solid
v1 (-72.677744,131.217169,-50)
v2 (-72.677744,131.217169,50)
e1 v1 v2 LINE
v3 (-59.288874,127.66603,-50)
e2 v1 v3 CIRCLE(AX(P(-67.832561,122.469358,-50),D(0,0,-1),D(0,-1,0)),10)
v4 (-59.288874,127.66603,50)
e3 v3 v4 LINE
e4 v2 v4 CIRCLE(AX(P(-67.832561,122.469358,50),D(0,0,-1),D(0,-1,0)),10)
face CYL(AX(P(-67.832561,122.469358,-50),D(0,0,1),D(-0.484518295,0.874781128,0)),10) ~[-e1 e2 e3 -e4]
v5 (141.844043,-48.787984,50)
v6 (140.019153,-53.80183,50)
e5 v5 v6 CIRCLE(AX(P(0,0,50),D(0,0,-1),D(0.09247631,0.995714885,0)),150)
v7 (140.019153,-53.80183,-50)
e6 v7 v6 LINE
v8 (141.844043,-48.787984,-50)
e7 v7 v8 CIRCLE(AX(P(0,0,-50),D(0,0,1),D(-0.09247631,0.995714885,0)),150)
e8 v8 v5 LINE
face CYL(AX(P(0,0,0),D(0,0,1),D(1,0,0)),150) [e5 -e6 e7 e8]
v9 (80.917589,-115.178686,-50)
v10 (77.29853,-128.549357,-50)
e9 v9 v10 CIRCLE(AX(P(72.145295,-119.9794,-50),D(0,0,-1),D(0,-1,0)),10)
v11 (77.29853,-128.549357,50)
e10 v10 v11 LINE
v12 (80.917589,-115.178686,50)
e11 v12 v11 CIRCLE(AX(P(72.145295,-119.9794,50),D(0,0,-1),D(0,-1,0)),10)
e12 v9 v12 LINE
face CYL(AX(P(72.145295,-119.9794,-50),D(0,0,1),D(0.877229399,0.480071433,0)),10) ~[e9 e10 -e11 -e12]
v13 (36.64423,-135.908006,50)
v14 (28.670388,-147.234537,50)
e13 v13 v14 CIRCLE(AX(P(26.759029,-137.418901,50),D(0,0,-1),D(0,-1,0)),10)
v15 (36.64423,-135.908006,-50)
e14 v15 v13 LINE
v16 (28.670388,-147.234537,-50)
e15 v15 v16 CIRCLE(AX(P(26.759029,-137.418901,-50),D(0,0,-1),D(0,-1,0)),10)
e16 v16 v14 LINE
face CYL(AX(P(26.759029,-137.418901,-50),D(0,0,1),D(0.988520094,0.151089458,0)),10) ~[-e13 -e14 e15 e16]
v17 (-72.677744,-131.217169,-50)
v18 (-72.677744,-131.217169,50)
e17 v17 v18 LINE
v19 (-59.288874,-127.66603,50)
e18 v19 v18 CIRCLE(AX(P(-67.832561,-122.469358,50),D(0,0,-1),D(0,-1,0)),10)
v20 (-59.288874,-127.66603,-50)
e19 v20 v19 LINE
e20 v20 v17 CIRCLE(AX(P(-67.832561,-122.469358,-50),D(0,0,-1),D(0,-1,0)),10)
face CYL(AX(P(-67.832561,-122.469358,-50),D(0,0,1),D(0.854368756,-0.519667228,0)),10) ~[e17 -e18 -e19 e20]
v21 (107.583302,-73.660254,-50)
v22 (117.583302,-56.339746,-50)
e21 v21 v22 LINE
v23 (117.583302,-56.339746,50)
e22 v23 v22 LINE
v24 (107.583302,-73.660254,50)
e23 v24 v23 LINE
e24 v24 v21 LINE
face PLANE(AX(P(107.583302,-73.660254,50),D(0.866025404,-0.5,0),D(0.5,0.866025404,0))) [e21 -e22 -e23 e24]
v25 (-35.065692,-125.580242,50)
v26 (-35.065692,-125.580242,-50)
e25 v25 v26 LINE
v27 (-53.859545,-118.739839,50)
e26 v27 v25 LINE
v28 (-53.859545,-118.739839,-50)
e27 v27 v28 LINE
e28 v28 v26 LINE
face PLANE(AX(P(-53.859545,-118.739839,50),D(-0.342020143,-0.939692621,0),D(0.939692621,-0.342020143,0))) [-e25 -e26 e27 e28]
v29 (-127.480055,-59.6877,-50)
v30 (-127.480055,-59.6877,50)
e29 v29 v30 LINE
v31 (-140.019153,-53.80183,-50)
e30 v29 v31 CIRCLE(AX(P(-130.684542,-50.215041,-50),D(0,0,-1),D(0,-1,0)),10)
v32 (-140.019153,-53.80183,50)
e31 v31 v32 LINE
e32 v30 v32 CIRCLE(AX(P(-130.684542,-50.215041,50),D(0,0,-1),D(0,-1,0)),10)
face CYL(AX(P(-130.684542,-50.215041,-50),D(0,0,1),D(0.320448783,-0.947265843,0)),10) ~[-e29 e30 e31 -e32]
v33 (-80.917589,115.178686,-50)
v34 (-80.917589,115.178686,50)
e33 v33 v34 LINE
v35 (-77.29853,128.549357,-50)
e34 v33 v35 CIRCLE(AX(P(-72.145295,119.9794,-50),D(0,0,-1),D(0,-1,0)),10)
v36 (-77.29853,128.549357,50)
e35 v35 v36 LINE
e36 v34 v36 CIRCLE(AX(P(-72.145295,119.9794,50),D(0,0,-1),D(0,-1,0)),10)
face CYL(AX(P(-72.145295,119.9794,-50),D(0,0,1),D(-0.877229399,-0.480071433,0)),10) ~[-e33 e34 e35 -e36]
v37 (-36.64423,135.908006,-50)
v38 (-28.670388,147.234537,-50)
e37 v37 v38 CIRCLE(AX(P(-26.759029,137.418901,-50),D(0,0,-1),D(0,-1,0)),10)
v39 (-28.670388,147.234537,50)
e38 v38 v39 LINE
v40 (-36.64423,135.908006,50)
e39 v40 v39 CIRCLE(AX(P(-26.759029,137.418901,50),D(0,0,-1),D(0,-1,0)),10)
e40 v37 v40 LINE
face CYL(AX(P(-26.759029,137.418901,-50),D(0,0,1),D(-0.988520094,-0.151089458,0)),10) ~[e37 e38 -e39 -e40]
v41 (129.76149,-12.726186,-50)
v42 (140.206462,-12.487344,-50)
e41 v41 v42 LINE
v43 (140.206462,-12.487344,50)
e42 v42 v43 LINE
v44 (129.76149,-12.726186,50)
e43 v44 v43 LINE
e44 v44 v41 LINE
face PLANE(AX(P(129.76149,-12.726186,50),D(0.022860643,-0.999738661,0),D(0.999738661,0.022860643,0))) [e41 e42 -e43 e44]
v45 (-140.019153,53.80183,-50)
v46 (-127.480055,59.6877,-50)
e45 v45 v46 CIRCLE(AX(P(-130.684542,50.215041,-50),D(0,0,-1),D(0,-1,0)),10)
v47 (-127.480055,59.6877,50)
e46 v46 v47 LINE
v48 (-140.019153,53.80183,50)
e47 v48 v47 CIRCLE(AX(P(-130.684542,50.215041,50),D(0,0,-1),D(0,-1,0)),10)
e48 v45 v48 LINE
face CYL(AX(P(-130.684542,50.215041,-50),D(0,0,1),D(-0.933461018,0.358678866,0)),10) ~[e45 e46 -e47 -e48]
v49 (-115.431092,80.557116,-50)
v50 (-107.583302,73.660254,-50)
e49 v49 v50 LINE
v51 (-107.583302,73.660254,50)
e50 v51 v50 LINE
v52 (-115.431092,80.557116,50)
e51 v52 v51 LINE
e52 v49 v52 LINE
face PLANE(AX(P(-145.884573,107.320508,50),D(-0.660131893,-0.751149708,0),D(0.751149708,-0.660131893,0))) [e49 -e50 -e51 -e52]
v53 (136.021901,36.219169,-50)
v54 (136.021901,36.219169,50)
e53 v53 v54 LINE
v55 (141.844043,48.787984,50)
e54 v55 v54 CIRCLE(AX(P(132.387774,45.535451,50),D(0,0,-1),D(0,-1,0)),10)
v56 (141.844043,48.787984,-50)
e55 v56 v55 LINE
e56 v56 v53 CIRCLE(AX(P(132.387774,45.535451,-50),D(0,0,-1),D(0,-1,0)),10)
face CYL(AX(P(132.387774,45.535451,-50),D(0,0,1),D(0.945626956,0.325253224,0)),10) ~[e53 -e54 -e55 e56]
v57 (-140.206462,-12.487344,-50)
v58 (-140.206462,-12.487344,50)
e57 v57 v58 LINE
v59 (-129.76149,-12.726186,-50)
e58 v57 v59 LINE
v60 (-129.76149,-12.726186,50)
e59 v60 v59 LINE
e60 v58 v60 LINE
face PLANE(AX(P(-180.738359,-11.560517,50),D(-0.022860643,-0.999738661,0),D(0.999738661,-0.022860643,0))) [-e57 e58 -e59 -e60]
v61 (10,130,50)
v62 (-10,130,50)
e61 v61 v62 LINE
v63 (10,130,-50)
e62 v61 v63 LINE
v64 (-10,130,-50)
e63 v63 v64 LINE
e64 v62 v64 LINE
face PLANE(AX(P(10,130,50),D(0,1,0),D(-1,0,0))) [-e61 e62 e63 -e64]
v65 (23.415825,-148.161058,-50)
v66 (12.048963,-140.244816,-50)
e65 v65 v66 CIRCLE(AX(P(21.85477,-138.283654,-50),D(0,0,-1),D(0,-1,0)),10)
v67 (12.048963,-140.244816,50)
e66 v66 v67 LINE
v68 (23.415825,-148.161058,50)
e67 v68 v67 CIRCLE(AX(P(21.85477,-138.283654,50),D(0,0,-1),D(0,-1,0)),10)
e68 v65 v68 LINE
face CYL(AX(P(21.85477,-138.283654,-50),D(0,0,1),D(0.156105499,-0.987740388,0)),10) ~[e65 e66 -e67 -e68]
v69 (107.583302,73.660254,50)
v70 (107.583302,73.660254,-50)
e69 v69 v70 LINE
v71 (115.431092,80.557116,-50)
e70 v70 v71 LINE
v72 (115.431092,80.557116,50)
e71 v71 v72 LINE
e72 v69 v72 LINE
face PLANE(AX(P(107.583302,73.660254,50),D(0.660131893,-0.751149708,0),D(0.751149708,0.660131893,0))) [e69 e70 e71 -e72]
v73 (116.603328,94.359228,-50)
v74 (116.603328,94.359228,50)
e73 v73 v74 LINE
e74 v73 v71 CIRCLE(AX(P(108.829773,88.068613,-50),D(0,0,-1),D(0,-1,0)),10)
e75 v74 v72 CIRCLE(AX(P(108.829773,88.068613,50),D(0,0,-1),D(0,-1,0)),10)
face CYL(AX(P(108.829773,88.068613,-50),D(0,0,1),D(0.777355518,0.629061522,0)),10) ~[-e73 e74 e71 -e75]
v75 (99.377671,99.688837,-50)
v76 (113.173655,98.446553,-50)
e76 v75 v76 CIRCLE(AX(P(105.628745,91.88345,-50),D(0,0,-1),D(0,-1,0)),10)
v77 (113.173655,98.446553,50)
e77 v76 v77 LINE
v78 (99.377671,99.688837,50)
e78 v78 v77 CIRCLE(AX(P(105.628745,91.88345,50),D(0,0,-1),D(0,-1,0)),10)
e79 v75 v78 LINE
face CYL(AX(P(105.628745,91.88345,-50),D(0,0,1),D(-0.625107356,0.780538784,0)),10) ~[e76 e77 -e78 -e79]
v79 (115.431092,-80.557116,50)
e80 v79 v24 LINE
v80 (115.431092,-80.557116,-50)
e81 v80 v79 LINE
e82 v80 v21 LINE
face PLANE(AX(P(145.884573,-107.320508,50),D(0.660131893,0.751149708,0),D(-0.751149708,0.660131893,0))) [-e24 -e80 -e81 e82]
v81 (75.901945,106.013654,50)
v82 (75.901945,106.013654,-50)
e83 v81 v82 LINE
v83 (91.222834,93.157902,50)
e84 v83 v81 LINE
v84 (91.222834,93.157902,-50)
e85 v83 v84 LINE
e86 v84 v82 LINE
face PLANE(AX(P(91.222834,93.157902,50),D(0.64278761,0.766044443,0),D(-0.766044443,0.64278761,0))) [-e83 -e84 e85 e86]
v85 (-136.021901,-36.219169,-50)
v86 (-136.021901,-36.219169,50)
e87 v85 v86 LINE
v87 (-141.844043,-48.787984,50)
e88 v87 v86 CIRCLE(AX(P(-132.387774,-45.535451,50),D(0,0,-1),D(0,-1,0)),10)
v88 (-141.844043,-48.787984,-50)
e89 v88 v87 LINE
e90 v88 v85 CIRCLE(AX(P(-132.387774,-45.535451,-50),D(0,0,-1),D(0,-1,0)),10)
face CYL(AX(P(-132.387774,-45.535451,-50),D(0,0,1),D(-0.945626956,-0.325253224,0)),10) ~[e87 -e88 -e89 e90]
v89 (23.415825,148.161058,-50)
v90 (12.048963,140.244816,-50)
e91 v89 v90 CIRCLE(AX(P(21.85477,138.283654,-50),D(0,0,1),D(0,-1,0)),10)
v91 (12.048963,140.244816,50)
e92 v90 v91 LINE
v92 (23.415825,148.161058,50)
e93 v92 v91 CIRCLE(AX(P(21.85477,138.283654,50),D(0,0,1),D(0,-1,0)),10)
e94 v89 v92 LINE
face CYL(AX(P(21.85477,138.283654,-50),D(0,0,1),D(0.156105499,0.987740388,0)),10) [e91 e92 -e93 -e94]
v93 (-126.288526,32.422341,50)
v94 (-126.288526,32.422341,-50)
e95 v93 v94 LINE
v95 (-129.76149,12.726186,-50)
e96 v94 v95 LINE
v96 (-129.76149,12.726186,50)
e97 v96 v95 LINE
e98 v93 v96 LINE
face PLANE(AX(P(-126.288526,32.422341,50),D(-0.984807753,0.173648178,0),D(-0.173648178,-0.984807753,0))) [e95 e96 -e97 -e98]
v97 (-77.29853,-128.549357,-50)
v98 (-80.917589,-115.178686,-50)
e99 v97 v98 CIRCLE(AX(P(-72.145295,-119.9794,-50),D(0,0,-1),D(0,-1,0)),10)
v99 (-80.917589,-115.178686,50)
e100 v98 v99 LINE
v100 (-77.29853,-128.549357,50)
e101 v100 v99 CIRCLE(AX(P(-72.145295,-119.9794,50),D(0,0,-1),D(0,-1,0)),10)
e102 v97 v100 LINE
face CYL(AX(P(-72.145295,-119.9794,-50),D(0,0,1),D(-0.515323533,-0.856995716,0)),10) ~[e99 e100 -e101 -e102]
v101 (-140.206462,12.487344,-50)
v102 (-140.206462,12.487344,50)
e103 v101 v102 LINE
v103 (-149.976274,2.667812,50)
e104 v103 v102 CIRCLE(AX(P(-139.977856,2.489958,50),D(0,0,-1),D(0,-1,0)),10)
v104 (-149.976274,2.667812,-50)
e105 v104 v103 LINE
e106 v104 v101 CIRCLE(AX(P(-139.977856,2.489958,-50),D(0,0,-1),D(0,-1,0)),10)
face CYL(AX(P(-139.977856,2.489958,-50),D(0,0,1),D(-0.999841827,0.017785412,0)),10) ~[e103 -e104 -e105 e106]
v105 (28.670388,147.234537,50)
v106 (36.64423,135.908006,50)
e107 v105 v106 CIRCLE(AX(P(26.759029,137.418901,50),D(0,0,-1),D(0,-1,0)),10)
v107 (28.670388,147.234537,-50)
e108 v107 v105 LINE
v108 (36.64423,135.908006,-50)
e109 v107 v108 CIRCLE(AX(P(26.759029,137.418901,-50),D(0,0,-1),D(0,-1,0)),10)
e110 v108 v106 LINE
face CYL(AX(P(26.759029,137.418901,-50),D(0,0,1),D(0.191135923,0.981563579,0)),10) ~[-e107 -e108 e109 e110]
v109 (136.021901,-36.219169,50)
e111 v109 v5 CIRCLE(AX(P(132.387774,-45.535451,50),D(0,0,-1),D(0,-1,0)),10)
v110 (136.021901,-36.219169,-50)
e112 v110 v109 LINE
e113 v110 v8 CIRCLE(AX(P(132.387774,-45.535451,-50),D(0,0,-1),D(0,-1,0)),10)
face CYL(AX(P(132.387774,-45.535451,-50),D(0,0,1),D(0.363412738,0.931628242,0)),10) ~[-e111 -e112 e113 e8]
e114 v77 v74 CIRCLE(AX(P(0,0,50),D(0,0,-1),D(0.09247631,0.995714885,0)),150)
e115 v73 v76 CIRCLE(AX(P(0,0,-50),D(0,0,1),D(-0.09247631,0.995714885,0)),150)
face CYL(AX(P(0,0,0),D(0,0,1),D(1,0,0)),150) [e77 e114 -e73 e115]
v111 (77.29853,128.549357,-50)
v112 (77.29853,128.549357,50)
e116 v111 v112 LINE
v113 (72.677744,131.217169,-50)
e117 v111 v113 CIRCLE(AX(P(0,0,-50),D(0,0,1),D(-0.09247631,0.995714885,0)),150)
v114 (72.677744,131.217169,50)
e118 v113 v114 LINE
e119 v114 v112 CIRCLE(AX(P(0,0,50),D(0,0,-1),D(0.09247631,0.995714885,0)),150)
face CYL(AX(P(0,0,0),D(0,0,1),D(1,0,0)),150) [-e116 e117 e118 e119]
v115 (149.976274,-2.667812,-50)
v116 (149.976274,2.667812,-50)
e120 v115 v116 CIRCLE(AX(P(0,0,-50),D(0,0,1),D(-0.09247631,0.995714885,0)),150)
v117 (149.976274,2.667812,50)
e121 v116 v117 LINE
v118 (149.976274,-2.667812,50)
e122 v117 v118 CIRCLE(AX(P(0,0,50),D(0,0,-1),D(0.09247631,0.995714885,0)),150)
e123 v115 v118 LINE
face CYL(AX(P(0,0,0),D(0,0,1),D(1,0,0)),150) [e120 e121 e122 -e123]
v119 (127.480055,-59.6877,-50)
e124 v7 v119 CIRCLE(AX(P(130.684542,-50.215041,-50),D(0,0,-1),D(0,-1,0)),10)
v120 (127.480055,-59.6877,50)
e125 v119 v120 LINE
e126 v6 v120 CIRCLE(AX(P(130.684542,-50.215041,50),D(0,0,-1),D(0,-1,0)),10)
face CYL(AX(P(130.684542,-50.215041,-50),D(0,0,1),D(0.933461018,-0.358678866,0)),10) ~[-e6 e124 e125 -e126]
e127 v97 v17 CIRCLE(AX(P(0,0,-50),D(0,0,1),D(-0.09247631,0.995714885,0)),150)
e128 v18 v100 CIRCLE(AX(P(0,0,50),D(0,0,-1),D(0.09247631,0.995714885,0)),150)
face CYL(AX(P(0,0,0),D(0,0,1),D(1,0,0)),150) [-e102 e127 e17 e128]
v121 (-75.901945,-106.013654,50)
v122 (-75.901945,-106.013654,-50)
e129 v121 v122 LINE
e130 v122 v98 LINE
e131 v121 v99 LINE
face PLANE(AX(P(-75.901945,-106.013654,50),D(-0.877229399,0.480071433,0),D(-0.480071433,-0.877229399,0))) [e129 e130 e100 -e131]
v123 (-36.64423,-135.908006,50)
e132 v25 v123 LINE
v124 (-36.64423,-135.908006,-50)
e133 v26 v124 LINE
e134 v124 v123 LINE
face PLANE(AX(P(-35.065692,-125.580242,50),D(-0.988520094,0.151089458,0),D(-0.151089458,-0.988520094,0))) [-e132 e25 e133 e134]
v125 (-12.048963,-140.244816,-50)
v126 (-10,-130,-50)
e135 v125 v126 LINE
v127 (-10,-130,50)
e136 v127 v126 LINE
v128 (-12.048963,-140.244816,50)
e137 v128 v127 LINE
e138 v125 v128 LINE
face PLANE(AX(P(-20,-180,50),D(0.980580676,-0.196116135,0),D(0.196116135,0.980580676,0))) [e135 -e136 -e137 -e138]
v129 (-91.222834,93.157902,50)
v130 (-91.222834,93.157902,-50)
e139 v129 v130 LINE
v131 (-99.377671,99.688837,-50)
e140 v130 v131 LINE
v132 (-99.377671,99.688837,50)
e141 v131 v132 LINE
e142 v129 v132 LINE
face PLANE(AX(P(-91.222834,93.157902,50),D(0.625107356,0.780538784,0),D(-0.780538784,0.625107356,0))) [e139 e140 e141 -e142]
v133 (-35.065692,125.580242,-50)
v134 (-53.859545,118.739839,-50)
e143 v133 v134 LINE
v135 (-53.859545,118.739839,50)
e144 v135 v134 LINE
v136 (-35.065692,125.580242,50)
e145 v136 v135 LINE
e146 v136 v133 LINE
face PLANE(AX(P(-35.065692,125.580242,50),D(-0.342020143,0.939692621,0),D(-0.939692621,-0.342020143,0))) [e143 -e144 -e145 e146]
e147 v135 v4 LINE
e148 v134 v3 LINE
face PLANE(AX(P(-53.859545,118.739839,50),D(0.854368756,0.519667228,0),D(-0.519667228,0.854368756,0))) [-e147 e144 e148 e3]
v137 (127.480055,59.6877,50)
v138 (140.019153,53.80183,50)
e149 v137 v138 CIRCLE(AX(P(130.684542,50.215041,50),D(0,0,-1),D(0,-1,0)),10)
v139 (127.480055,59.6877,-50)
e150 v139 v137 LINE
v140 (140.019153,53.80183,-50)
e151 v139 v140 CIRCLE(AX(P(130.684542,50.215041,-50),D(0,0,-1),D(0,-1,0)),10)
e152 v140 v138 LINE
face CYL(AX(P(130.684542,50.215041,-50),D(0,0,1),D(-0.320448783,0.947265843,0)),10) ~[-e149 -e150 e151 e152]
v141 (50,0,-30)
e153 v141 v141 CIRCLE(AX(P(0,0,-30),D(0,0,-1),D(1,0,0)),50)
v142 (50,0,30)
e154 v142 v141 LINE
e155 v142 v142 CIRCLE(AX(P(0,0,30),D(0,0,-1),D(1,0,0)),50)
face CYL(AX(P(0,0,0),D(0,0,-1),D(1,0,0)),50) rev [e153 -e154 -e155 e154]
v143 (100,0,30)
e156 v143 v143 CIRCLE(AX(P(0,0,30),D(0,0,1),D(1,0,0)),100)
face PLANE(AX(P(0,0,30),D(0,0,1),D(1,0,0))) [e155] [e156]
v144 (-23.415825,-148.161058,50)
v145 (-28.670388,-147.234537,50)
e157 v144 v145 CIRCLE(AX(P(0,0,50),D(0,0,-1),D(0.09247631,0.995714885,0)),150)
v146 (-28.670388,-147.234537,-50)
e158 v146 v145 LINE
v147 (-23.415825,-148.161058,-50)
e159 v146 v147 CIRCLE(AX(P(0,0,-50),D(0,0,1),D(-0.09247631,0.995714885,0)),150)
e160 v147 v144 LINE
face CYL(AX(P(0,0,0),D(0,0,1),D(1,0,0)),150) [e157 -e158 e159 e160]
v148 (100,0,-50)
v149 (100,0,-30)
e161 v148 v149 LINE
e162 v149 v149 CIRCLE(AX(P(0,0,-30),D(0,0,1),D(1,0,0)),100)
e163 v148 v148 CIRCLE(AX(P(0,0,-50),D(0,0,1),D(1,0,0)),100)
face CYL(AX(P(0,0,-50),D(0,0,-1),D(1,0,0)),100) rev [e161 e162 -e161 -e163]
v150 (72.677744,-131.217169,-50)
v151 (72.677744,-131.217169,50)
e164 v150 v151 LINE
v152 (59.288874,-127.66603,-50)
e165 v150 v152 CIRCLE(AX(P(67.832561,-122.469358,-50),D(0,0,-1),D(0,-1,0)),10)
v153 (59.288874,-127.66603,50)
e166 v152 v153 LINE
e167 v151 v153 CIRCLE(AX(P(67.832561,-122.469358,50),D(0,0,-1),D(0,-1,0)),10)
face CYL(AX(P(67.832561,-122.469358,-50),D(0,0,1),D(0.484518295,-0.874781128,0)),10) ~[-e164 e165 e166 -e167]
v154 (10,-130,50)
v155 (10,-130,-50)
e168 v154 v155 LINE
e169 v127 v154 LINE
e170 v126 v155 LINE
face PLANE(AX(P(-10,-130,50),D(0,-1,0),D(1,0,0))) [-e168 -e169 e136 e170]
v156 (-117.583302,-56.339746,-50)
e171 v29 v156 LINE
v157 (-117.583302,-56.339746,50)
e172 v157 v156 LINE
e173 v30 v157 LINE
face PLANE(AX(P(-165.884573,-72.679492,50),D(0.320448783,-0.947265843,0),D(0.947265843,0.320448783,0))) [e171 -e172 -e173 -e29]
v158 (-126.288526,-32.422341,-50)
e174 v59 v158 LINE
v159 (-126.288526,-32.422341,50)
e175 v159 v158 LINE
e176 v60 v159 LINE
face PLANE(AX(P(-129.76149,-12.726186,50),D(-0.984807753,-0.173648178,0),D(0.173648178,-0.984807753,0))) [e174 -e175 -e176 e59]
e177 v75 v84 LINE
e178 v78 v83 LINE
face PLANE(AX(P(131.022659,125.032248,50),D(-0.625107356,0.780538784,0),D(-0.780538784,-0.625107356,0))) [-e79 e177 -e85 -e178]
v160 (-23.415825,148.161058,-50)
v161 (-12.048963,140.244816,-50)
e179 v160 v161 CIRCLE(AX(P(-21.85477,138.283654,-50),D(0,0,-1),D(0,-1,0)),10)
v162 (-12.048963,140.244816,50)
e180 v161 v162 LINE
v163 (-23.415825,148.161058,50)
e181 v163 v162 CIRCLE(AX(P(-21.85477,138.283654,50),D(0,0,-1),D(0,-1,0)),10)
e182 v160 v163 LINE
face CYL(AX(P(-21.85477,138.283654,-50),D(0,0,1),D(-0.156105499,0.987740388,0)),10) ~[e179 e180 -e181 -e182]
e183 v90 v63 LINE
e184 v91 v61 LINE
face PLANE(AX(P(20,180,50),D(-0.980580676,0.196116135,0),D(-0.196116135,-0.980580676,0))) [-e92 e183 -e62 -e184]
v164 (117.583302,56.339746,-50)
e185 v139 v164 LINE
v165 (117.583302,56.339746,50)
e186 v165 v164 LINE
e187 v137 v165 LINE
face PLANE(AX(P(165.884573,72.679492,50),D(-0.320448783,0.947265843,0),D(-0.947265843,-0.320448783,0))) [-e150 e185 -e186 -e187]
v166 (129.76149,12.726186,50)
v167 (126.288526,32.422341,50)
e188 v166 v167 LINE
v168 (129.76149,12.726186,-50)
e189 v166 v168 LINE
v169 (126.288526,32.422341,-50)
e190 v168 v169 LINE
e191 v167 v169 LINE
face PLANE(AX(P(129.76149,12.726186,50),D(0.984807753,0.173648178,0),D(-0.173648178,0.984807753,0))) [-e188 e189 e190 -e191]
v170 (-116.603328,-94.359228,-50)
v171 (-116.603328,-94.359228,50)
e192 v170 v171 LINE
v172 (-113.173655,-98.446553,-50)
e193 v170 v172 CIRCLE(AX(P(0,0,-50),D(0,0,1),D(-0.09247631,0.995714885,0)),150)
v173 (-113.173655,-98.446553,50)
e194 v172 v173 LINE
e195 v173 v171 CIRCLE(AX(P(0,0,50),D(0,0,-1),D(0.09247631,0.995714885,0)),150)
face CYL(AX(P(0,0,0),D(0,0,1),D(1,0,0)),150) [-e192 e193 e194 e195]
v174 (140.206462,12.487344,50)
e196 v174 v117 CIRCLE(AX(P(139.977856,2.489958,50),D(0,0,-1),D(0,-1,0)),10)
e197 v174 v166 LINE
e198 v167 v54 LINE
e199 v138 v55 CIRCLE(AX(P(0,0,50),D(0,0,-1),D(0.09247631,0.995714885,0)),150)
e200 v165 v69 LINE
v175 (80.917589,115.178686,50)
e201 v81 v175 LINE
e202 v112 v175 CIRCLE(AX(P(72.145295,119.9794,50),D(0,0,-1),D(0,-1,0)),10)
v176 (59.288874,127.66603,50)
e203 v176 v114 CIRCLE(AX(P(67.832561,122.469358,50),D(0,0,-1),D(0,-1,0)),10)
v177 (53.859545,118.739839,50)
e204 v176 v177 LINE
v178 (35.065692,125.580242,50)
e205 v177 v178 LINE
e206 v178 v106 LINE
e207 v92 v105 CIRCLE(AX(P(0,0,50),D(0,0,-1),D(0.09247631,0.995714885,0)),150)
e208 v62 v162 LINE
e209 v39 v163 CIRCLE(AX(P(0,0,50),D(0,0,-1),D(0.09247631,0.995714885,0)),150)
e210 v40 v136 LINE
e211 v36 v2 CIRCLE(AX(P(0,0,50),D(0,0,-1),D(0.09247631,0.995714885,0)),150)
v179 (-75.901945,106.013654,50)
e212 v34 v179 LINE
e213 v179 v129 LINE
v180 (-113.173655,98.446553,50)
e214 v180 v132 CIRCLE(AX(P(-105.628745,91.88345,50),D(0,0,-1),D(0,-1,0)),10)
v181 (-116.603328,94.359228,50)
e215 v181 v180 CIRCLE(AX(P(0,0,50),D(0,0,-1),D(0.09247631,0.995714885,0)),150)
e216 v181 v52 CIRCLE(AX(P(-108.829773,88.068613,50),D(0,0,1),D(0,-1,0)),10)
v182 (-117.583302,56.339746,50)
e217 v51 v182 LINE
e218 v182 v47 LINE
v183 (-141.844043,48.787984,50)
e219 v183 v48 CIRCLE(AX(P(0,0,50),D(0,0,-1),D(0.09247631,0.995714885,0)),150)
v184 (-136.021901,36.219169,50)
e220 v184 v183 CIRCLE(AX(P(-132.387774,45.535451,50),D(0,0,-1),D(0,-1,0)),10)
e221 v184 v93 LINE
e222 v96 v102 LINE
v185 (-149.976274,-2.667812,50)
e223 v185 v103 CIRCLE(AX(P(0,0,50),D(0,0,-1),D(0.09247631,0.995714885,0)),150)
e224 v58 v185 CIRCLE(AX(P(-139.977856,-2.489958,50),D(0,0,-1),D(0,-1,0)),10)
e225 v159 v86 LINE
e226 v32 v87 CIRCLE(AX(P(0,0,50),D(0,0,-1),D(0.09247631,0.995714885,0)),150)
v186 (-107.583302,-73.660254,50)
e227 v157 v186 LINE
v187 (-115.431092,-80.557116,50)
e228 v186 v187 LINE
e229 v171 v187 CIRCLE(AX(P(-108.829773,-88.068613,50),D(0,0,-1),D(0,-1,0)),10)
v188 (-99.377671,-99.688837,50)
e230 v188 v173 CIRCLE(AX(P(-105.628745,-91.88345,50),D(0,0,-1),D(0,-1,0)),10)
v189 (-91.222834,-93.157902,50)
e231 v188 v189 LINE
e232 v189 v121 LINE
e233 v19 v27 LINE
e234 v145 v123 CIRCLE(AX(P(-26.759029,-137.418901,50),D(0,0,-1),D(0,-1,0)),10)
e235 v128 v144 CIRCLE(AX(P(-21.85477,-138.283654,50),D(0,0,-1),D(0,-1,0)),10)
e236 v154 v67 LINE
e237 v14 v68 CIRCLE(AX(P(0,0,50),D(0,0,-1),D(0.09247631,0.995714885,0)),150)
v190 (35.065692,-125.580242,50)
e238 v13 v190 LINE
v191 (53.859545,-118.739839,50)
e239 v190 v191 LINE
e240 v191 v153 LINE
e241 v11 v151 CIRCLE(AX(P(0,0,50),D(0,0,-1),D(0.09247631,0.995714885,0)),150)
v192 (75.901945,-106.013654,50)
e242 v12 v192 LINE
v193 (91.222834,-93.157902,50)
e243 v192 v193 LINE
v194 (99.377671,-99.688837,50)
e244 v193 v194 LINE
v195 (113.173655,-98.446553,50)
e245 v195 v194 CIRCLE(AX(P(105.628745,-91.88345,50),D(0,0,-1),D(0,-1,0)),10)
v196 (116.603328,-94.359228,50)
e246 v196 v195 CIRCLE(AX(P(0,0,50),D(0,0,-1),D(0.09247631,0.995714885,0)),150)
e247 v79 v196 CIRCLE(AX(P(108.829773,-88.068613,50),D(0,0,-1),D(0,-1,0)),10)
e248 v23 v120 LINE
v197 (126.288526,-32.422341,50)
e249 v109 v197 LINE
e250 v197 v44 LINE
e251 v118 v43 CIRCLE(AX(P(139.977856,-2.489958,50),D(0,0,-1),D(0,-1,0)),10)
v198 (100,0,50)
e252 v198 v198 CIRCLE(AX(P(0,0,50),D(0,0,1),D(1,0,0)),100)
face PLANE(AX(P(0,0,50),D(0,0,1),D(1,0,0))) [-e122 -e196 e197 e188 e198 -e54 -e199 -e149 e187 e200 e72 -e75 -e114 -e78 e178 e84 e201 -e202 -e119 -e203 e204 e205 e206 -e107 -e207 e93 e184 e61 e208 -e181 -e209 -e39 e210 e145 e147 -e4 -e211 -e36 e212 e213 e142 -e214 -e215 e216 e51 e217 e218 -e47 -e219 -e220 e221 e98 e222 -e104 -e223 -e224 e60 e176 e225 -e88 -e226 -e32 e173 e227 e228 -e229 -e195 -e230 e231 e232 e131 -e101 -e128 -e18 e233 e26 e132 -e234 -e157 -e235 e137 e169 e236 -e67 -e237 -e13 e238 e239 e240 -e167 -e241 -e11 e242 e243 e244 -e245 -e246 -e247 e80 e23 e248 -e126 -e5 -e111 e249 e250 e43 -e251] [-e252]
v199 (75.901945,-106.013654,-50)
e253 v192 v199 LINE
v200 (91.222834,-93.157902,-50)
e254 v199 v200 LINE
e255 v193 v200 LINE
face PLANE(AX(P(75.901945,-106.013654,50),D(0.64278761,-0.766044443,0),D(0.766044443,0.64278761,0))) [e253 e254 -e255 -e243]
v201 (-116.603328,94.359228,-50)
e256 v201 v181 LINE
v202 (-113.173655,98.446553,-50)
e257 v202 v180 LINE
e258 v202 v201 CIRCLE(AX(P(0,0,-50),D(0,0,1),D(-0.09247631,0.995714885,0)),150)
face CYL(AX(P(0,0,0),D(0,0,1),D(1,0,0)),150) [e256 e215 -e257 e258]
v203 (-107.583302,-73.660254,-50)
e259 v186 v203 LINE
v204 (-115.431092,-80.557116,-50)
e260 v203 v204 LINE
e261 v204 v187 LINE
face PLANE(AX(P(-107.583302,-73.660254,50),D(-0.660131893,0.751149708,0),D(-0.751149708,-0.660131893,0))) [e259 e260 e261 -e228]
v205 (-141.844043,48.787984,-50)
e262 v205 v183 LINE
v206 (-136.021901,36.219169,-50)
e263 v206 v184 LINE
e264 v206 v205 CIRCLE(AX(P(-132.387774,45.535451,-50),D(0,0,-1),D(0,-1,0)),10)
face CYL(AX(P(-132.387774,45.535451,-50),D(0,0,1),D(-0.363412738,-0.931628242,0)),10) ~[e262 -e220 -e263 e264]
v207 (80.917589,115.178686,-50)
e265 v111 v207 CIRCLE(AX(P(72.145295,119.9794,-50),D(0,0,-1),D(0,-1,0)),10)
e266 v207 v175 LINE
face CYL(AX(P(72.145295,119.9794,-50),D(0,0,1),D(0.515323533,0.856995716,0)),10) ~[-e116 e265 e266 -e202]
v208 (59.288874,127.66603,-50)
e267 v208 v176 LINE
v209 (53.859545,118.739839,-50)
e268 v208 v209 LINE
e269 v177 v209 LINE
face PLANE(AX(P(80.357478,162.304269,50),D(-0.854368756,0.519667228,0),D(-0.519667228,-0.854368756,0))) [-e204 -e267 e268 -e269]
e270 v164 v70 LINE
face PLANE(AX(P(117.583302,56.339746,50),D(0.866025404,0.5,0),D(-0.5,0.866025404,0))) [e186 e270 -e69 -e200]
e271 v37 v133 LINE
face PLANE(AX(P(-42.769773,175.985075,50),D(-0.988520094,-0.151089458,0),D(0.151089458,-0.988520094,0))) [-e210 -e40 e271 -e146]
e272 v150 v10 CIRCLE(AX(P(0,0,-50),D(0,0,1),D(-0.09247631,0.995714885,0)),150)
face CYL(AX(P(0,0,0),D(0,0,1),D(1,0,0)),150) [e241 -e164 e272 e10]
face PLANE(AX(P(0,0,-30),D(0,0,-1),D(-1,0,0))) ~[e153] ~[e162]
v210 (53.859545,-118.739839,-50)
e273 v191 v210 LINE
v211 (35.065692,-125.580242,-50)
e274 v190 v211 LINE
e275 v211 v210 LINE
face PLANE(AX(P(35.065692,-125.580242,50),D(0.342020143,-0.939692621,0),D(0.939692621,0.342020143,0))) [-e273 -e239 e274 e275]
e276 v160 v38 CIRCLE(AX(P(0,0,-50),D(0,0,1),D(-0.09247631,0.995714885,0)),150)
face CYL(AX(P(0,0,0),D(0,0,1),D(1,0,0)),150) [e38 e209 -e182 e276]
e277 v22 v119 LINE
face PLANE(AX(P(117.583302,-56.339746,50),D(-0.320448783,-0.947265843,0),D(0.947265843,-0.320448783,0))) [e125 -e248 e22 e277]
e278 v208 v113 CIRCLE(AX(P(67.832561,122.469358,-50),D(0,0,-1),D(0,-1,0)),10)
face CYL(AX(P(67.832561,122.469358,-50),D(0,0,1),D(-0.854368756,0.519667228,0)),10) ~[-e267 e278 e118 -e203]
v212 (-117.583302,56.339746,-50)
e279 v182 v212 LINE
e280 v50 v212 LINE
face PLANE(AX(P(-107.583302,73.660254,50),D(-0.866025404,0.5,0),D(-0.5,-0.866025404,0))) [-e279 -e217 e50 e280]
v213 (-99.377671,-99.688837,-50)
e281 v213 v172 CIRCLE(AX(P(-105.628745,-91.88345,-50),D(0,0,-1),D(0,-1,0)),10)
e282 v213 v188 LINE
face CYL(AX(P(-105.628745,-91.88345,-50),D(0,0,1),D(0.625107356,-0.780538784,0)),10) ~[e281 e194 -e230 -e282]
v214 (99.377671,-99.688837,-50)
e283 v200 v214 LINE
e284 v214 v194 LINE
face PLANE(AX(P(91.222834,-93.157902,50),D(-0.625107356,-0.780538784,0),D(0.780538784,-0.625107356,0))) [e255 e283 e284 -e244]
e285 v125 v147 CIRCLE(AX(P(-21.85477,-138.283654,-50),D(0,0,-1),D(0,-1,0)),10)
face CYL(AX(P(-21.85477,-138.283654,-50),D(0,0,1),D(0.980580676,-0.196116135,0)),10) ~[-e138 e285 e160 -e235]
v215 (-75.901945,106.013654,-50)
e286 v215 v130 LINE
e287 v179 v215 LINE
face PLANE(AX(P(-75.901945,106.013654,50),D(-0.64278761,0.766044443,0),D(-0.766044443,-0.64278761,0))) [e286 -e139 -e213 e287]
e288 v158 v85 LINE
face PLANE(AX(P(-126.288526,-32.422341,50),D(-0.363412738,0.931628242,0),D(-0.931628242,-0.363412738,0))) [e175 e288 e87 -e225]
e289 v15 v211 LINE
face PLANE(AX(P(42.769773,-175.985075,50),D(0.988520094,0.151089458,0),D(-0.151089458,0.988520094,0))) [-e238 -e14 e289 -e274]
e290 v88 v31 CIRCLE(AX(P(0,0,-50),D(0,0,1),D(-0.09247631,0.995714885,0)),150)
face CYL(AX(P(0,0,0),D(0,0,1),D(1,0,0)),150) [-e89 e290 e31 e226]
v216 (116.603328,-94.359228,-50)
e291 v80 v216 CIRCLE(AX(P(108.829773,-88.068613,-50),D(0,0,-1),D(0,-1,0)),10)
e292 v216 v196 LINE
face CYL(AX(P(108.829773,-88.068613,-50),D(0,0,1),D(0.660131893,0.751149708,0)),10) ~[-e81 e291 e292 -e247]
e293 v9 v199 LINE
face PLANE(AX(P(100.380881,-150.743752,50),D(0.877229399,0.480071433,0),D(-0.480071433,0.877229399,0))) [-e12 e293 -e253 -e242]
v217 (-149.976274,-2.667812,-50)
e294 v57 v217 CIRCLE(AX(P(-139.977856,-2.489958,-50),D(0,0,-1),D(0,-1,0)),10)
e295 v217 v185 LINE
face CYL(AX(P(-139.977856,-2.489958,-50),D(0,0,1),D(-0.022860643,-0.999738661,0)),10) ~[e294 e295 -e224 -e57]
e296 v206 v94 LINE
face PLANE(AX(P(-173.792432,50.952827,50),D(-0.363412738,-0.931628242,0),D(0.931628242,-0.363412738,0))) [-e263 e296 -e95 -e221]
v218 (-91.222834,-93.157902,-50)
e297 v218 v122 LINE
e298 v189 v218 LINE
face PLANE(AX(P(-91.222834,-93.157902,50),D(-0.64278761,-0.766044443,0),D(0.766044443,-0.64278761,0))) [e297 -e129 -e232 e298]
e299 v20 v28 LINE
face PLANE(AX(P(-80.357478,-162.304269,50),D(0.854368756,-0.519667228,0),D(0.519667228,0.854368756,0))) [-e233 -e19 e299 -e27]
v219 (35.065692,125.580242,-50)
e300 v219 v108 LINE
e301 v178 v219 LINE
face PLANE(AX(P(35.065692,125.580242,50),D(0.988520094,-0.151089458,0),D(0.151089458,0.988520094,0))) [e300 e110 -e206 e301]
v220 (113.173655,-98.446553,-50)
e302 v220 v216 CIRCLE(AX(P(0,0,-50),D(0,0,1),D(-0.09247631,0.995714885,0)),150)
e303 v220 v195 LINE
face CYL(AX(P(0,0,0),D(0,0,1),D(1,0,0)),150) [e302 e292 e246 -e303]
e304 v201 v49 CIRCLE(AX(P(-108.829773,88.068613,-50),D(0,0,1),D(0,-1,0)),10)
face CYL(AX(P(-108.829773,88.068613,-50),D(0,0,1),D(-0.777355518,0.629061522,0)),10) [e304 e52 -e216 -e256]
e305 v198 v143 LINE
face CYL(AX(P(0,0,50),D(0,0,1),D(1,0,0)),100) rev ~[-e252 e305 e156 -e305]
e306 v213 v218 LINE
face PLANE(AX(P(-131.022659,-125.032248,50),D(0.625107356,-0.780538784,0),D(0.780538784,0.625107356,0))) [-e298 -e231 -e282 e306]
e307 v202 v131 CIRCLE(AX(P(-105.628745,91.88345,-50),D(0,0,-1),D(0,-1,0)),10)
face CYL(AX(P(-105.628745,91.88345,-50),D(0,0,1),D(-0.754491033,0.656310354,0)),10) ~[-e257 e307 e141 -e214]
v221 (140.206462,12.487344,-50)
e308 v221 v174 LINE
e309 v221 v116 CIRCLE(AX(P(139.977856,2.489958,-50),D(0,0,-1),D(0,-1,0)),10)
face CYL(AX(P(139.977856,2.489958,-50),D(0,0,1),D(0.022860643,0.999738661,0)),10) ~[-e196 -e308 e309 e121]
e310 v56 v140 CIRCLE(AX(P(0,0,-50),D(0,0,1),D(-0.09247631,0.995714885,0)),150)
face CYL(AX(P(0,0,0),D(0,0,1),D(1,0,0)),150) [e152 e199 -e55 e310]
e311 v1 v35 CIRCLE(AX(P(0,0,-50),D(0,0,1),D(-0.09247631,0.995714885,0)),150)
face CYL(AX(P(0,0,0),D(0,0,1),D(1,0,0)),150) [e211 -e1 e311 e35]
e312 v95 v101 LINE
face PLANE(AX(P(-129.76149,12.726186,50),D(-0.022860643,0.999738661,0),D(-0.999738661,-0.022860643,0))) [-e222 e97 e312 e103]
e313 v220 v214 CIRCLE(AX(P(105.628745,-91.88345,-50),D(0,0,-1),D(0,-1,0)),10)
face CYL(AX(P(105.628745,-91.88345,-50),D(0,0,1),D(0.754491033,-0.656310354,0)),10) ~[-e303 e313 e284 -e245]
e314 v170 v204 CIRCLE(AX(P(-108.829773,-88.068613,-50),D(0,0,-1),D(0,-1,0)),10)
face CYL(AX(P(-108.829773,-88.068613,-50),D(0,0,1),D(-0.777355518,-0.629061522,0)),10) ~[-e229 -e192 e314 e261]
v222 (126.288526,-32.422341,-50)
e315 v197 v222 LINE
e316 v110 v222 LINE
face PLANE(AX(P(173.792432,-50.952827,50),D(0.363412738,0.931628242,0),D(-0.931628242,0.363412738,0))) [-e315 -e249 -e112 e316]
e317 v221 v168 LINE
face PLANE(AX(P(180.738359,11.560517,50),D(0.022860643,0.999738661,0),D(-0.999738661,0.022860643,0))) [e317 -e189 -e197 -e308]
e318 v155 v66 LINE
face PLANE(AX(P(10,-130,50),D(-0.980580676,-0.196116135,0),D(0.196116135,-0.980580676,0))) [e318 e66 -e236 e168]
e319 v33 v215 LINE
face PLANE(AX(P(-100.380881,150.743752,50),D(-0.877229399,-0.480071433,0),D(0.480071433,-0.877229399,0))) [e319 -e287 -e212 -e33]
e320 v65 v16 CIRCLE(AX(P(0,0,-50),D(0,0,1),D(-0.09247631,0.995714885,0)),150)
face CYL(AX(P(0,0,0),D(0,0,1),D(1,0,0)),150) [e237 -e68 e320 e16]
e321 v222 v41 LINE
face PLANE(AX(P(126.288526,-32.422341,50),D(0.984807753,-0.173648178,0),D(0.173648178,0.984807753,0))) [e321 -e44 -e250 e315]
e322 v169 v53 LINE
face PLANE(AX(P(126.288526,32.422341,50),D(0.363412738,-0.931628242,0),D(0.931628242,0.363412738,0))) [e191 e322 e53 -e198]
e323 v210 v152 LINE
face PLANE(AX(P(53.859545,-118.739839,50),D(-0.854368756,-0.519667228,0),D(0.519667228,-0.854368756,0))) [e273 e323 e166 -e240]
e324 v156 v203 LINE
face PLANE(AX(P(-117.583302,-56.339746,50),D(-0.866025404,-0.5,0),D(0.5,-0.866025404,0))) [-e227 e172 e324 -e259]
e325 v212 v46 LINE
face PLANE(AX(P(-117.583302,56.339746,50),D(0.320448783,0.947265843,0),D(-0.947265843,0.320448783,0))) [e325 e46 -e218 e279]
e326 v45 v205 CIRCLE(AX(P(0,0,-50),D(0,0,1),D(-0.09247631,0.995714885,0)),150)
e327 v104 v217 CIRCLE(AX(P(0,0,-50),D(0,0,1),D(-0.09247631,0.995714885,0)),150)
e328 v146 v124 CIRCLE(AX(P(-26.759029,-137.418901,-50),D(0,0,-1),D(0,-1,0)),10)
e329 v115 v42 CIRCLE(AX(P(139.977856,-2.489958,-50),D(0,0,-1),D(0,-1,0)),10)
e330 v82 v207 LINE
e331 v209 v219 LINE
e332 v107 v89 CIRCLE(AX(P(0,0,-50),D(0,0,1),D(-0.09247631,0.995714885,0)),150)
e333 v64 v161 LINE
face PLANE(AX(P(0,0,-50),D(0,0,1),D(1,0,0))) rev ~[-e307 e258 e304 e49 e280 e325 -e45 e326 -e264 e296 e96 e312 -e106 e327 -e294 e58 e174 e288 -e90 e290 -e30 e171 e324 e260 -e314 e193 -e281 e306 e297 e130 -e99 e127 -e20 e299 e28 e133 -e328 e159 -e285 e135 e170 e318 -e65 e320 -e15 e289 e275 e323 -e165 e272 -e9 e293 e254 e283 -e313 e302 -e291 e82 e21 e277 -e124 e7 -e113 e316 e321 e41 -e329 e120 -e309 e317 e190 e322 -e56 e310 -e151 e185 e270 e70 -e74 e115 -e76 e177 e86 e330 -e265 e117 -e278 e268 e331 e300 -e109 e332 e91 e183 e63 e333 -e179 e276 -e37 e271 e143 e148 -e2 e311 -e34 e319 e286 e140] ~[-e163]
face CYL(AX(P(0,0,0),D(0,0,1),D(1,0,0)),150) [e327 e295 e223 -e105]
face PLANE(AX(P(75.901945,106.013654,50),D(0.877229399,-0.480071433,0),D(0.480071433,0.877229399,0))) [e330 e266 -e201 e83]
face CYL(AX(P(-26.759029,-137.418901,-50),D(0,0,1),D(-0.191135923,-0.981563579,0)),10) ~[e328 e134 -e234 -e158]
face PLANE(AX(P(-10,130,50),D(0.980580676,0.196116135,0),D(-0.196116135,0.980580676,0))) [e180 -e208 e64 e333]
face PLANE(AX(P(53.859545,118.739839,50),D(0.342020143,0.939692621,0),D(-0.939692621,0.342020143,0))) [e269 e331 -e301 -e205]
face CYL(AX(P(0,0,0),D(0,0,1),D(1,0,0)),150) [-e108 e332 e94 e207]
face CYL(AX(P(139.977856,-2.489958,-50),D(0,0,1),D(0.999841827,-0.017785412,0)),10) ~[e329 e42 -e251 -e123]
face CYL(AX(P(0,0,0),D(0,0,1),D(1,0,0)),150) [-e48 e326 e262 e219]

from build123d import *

# Parameters (mm, degrees)
SKETCH2_R                = 150
SKETCH2_R_2              = 50
BOSS_EXTRUDE1_DEPTH      = 50
CUT_EXTRUDE1_DEPTH       = 235.520787991
FILLET1_R                = 10
CIRPATTERN1_COUNT        = 18
FILLET1_OF_CIRPATTERN1_R = 10
SKETCH6_R                = 100
CUT_EXTRUDE2_DEPTH       = 20


with BuildPart() as part:
    # Sketch2 → Boss-Extrude1 (new, symmetric)
    with BuildSketch(Plane.XY):
        Circle(SKETCH2_R)
        Circle(SKETCH2_R_2, mode=Mode.SUBTRACT)
    extrude(amount=BOSS_EXTRUDE1_DEPTH, both=True)

    # Sketch5 → Cut-Extrude1 (cut, through all)
    with BuildSketch(Plane.XY.offset(50)):
        Polygon((-20, 180), (20, 180), (10, 130), (-10, 130), align=None)
    cut_extrude1 = extrude(amount=-CUT_EXTRUDE1_DEPTH, mode=Mode.SUBTRACT)

    # Fillet1
    fillet1_edges = [part.edges().sort_by_distance(p)[0] for p in [
        (13.871446547, 149.357232736, 0),
        (-13.871446547, 149.357232736, 0),
    ]]
    fillet(fillet1_edges, radius=FILLET1_R)

    # CirPattern1: Cut-Extrude1 ×18 about axis
    cirpattern1_axis = Axis((0, 0, 0), (0, 0, 1))
    for i in range(1, CIRPATTERN1_COUNT):
        add(cut_extrude1.rotate(cirpattern1_axis, i * 360 / CIRPATTERN1_COUNT), mode=Mode.SUBTRACT)

    # Fillet1 of CirPattern1
    fillet1_of_cirpattern1_edges = [part.edges().sort_by_distance(p)[0] for p in [
        (-38.048286187, 145.0942036, 0),
        (-64.118078107, 135.605575327, 0),
        (-85.378834074, 123.330672146, 0),
        (-106.631123166, 105.497884208, 0),
        (-122.411434515, 86.691641465, 0),
        (-136.282881062, 62.665591271, 0),
        (-144.679409353, 39.596319391, 0),
        (-149.496912182, 12.274903181, 0),
        (-149.496912182, -12.274903181, 0),
        (-144.679409353, -39.596319391, 0),
        (-136.282881062, -62.665591271, 0),
        (-122.411434515, -86.691641465, 0),
        (-106.631123166, -105.497884208, 0),
        (-85.378834074, -123.330672146, 0),
        (-64.118078107, -135.605575327, 0),
        (-38.048286187, -145.0942036, 0),
        (-13.871446547, -149.357232736, 0),
        (13.871446547, -149.357232736, 0),
        (38.048286187, -145.0942036, 0),
        (64.118078107, -135.605575327, 0),
        (85.378834074, -123.330672146, 0),
        (106.631123166, -105.497884208, 0),
        (122.411434515, -86.691641465, 0),
        (136.282881062, -62.665591271, 0),
        (144.679409353, -39.596319391, 0),
        (149.496912182, -12.274903181, 0),
        (149.496912182, 12.274903181, 0),
        (144.679409353, 39.596319391, 0),
        (136.282881062, 62.665591271, 0),
        (122.411434515, 86.691641465, 0),
        (106.631123166, 105.497884208, 0),
        (85.378834074, 123.330672146, 0),
        (64.118078107, 135.605575327, 0),
        (38.048286187, 145.0942036, 0),
    ]]
    fillet(fillet1_of_cirpattern1_edges, radius=FILLET1_OF_CIRPATTERN1_R)

    # Sketch6 → Cut-Extrude2 (cut)
    with BuildSketch(Plane.XY.offset(50)):
        Circle(SKETCH6_R)
    cut_extrude2 = extrude(amount=-CUT_EXTRUDE2_DEPTH, mode=Mode.SUBTRACT)

    # Mirror1: Cut-Extrude2 across plane
    add(cut_extrude2.mirror(Plane.XY), mode=Mode.SUBTRACT)


solid = part.part
